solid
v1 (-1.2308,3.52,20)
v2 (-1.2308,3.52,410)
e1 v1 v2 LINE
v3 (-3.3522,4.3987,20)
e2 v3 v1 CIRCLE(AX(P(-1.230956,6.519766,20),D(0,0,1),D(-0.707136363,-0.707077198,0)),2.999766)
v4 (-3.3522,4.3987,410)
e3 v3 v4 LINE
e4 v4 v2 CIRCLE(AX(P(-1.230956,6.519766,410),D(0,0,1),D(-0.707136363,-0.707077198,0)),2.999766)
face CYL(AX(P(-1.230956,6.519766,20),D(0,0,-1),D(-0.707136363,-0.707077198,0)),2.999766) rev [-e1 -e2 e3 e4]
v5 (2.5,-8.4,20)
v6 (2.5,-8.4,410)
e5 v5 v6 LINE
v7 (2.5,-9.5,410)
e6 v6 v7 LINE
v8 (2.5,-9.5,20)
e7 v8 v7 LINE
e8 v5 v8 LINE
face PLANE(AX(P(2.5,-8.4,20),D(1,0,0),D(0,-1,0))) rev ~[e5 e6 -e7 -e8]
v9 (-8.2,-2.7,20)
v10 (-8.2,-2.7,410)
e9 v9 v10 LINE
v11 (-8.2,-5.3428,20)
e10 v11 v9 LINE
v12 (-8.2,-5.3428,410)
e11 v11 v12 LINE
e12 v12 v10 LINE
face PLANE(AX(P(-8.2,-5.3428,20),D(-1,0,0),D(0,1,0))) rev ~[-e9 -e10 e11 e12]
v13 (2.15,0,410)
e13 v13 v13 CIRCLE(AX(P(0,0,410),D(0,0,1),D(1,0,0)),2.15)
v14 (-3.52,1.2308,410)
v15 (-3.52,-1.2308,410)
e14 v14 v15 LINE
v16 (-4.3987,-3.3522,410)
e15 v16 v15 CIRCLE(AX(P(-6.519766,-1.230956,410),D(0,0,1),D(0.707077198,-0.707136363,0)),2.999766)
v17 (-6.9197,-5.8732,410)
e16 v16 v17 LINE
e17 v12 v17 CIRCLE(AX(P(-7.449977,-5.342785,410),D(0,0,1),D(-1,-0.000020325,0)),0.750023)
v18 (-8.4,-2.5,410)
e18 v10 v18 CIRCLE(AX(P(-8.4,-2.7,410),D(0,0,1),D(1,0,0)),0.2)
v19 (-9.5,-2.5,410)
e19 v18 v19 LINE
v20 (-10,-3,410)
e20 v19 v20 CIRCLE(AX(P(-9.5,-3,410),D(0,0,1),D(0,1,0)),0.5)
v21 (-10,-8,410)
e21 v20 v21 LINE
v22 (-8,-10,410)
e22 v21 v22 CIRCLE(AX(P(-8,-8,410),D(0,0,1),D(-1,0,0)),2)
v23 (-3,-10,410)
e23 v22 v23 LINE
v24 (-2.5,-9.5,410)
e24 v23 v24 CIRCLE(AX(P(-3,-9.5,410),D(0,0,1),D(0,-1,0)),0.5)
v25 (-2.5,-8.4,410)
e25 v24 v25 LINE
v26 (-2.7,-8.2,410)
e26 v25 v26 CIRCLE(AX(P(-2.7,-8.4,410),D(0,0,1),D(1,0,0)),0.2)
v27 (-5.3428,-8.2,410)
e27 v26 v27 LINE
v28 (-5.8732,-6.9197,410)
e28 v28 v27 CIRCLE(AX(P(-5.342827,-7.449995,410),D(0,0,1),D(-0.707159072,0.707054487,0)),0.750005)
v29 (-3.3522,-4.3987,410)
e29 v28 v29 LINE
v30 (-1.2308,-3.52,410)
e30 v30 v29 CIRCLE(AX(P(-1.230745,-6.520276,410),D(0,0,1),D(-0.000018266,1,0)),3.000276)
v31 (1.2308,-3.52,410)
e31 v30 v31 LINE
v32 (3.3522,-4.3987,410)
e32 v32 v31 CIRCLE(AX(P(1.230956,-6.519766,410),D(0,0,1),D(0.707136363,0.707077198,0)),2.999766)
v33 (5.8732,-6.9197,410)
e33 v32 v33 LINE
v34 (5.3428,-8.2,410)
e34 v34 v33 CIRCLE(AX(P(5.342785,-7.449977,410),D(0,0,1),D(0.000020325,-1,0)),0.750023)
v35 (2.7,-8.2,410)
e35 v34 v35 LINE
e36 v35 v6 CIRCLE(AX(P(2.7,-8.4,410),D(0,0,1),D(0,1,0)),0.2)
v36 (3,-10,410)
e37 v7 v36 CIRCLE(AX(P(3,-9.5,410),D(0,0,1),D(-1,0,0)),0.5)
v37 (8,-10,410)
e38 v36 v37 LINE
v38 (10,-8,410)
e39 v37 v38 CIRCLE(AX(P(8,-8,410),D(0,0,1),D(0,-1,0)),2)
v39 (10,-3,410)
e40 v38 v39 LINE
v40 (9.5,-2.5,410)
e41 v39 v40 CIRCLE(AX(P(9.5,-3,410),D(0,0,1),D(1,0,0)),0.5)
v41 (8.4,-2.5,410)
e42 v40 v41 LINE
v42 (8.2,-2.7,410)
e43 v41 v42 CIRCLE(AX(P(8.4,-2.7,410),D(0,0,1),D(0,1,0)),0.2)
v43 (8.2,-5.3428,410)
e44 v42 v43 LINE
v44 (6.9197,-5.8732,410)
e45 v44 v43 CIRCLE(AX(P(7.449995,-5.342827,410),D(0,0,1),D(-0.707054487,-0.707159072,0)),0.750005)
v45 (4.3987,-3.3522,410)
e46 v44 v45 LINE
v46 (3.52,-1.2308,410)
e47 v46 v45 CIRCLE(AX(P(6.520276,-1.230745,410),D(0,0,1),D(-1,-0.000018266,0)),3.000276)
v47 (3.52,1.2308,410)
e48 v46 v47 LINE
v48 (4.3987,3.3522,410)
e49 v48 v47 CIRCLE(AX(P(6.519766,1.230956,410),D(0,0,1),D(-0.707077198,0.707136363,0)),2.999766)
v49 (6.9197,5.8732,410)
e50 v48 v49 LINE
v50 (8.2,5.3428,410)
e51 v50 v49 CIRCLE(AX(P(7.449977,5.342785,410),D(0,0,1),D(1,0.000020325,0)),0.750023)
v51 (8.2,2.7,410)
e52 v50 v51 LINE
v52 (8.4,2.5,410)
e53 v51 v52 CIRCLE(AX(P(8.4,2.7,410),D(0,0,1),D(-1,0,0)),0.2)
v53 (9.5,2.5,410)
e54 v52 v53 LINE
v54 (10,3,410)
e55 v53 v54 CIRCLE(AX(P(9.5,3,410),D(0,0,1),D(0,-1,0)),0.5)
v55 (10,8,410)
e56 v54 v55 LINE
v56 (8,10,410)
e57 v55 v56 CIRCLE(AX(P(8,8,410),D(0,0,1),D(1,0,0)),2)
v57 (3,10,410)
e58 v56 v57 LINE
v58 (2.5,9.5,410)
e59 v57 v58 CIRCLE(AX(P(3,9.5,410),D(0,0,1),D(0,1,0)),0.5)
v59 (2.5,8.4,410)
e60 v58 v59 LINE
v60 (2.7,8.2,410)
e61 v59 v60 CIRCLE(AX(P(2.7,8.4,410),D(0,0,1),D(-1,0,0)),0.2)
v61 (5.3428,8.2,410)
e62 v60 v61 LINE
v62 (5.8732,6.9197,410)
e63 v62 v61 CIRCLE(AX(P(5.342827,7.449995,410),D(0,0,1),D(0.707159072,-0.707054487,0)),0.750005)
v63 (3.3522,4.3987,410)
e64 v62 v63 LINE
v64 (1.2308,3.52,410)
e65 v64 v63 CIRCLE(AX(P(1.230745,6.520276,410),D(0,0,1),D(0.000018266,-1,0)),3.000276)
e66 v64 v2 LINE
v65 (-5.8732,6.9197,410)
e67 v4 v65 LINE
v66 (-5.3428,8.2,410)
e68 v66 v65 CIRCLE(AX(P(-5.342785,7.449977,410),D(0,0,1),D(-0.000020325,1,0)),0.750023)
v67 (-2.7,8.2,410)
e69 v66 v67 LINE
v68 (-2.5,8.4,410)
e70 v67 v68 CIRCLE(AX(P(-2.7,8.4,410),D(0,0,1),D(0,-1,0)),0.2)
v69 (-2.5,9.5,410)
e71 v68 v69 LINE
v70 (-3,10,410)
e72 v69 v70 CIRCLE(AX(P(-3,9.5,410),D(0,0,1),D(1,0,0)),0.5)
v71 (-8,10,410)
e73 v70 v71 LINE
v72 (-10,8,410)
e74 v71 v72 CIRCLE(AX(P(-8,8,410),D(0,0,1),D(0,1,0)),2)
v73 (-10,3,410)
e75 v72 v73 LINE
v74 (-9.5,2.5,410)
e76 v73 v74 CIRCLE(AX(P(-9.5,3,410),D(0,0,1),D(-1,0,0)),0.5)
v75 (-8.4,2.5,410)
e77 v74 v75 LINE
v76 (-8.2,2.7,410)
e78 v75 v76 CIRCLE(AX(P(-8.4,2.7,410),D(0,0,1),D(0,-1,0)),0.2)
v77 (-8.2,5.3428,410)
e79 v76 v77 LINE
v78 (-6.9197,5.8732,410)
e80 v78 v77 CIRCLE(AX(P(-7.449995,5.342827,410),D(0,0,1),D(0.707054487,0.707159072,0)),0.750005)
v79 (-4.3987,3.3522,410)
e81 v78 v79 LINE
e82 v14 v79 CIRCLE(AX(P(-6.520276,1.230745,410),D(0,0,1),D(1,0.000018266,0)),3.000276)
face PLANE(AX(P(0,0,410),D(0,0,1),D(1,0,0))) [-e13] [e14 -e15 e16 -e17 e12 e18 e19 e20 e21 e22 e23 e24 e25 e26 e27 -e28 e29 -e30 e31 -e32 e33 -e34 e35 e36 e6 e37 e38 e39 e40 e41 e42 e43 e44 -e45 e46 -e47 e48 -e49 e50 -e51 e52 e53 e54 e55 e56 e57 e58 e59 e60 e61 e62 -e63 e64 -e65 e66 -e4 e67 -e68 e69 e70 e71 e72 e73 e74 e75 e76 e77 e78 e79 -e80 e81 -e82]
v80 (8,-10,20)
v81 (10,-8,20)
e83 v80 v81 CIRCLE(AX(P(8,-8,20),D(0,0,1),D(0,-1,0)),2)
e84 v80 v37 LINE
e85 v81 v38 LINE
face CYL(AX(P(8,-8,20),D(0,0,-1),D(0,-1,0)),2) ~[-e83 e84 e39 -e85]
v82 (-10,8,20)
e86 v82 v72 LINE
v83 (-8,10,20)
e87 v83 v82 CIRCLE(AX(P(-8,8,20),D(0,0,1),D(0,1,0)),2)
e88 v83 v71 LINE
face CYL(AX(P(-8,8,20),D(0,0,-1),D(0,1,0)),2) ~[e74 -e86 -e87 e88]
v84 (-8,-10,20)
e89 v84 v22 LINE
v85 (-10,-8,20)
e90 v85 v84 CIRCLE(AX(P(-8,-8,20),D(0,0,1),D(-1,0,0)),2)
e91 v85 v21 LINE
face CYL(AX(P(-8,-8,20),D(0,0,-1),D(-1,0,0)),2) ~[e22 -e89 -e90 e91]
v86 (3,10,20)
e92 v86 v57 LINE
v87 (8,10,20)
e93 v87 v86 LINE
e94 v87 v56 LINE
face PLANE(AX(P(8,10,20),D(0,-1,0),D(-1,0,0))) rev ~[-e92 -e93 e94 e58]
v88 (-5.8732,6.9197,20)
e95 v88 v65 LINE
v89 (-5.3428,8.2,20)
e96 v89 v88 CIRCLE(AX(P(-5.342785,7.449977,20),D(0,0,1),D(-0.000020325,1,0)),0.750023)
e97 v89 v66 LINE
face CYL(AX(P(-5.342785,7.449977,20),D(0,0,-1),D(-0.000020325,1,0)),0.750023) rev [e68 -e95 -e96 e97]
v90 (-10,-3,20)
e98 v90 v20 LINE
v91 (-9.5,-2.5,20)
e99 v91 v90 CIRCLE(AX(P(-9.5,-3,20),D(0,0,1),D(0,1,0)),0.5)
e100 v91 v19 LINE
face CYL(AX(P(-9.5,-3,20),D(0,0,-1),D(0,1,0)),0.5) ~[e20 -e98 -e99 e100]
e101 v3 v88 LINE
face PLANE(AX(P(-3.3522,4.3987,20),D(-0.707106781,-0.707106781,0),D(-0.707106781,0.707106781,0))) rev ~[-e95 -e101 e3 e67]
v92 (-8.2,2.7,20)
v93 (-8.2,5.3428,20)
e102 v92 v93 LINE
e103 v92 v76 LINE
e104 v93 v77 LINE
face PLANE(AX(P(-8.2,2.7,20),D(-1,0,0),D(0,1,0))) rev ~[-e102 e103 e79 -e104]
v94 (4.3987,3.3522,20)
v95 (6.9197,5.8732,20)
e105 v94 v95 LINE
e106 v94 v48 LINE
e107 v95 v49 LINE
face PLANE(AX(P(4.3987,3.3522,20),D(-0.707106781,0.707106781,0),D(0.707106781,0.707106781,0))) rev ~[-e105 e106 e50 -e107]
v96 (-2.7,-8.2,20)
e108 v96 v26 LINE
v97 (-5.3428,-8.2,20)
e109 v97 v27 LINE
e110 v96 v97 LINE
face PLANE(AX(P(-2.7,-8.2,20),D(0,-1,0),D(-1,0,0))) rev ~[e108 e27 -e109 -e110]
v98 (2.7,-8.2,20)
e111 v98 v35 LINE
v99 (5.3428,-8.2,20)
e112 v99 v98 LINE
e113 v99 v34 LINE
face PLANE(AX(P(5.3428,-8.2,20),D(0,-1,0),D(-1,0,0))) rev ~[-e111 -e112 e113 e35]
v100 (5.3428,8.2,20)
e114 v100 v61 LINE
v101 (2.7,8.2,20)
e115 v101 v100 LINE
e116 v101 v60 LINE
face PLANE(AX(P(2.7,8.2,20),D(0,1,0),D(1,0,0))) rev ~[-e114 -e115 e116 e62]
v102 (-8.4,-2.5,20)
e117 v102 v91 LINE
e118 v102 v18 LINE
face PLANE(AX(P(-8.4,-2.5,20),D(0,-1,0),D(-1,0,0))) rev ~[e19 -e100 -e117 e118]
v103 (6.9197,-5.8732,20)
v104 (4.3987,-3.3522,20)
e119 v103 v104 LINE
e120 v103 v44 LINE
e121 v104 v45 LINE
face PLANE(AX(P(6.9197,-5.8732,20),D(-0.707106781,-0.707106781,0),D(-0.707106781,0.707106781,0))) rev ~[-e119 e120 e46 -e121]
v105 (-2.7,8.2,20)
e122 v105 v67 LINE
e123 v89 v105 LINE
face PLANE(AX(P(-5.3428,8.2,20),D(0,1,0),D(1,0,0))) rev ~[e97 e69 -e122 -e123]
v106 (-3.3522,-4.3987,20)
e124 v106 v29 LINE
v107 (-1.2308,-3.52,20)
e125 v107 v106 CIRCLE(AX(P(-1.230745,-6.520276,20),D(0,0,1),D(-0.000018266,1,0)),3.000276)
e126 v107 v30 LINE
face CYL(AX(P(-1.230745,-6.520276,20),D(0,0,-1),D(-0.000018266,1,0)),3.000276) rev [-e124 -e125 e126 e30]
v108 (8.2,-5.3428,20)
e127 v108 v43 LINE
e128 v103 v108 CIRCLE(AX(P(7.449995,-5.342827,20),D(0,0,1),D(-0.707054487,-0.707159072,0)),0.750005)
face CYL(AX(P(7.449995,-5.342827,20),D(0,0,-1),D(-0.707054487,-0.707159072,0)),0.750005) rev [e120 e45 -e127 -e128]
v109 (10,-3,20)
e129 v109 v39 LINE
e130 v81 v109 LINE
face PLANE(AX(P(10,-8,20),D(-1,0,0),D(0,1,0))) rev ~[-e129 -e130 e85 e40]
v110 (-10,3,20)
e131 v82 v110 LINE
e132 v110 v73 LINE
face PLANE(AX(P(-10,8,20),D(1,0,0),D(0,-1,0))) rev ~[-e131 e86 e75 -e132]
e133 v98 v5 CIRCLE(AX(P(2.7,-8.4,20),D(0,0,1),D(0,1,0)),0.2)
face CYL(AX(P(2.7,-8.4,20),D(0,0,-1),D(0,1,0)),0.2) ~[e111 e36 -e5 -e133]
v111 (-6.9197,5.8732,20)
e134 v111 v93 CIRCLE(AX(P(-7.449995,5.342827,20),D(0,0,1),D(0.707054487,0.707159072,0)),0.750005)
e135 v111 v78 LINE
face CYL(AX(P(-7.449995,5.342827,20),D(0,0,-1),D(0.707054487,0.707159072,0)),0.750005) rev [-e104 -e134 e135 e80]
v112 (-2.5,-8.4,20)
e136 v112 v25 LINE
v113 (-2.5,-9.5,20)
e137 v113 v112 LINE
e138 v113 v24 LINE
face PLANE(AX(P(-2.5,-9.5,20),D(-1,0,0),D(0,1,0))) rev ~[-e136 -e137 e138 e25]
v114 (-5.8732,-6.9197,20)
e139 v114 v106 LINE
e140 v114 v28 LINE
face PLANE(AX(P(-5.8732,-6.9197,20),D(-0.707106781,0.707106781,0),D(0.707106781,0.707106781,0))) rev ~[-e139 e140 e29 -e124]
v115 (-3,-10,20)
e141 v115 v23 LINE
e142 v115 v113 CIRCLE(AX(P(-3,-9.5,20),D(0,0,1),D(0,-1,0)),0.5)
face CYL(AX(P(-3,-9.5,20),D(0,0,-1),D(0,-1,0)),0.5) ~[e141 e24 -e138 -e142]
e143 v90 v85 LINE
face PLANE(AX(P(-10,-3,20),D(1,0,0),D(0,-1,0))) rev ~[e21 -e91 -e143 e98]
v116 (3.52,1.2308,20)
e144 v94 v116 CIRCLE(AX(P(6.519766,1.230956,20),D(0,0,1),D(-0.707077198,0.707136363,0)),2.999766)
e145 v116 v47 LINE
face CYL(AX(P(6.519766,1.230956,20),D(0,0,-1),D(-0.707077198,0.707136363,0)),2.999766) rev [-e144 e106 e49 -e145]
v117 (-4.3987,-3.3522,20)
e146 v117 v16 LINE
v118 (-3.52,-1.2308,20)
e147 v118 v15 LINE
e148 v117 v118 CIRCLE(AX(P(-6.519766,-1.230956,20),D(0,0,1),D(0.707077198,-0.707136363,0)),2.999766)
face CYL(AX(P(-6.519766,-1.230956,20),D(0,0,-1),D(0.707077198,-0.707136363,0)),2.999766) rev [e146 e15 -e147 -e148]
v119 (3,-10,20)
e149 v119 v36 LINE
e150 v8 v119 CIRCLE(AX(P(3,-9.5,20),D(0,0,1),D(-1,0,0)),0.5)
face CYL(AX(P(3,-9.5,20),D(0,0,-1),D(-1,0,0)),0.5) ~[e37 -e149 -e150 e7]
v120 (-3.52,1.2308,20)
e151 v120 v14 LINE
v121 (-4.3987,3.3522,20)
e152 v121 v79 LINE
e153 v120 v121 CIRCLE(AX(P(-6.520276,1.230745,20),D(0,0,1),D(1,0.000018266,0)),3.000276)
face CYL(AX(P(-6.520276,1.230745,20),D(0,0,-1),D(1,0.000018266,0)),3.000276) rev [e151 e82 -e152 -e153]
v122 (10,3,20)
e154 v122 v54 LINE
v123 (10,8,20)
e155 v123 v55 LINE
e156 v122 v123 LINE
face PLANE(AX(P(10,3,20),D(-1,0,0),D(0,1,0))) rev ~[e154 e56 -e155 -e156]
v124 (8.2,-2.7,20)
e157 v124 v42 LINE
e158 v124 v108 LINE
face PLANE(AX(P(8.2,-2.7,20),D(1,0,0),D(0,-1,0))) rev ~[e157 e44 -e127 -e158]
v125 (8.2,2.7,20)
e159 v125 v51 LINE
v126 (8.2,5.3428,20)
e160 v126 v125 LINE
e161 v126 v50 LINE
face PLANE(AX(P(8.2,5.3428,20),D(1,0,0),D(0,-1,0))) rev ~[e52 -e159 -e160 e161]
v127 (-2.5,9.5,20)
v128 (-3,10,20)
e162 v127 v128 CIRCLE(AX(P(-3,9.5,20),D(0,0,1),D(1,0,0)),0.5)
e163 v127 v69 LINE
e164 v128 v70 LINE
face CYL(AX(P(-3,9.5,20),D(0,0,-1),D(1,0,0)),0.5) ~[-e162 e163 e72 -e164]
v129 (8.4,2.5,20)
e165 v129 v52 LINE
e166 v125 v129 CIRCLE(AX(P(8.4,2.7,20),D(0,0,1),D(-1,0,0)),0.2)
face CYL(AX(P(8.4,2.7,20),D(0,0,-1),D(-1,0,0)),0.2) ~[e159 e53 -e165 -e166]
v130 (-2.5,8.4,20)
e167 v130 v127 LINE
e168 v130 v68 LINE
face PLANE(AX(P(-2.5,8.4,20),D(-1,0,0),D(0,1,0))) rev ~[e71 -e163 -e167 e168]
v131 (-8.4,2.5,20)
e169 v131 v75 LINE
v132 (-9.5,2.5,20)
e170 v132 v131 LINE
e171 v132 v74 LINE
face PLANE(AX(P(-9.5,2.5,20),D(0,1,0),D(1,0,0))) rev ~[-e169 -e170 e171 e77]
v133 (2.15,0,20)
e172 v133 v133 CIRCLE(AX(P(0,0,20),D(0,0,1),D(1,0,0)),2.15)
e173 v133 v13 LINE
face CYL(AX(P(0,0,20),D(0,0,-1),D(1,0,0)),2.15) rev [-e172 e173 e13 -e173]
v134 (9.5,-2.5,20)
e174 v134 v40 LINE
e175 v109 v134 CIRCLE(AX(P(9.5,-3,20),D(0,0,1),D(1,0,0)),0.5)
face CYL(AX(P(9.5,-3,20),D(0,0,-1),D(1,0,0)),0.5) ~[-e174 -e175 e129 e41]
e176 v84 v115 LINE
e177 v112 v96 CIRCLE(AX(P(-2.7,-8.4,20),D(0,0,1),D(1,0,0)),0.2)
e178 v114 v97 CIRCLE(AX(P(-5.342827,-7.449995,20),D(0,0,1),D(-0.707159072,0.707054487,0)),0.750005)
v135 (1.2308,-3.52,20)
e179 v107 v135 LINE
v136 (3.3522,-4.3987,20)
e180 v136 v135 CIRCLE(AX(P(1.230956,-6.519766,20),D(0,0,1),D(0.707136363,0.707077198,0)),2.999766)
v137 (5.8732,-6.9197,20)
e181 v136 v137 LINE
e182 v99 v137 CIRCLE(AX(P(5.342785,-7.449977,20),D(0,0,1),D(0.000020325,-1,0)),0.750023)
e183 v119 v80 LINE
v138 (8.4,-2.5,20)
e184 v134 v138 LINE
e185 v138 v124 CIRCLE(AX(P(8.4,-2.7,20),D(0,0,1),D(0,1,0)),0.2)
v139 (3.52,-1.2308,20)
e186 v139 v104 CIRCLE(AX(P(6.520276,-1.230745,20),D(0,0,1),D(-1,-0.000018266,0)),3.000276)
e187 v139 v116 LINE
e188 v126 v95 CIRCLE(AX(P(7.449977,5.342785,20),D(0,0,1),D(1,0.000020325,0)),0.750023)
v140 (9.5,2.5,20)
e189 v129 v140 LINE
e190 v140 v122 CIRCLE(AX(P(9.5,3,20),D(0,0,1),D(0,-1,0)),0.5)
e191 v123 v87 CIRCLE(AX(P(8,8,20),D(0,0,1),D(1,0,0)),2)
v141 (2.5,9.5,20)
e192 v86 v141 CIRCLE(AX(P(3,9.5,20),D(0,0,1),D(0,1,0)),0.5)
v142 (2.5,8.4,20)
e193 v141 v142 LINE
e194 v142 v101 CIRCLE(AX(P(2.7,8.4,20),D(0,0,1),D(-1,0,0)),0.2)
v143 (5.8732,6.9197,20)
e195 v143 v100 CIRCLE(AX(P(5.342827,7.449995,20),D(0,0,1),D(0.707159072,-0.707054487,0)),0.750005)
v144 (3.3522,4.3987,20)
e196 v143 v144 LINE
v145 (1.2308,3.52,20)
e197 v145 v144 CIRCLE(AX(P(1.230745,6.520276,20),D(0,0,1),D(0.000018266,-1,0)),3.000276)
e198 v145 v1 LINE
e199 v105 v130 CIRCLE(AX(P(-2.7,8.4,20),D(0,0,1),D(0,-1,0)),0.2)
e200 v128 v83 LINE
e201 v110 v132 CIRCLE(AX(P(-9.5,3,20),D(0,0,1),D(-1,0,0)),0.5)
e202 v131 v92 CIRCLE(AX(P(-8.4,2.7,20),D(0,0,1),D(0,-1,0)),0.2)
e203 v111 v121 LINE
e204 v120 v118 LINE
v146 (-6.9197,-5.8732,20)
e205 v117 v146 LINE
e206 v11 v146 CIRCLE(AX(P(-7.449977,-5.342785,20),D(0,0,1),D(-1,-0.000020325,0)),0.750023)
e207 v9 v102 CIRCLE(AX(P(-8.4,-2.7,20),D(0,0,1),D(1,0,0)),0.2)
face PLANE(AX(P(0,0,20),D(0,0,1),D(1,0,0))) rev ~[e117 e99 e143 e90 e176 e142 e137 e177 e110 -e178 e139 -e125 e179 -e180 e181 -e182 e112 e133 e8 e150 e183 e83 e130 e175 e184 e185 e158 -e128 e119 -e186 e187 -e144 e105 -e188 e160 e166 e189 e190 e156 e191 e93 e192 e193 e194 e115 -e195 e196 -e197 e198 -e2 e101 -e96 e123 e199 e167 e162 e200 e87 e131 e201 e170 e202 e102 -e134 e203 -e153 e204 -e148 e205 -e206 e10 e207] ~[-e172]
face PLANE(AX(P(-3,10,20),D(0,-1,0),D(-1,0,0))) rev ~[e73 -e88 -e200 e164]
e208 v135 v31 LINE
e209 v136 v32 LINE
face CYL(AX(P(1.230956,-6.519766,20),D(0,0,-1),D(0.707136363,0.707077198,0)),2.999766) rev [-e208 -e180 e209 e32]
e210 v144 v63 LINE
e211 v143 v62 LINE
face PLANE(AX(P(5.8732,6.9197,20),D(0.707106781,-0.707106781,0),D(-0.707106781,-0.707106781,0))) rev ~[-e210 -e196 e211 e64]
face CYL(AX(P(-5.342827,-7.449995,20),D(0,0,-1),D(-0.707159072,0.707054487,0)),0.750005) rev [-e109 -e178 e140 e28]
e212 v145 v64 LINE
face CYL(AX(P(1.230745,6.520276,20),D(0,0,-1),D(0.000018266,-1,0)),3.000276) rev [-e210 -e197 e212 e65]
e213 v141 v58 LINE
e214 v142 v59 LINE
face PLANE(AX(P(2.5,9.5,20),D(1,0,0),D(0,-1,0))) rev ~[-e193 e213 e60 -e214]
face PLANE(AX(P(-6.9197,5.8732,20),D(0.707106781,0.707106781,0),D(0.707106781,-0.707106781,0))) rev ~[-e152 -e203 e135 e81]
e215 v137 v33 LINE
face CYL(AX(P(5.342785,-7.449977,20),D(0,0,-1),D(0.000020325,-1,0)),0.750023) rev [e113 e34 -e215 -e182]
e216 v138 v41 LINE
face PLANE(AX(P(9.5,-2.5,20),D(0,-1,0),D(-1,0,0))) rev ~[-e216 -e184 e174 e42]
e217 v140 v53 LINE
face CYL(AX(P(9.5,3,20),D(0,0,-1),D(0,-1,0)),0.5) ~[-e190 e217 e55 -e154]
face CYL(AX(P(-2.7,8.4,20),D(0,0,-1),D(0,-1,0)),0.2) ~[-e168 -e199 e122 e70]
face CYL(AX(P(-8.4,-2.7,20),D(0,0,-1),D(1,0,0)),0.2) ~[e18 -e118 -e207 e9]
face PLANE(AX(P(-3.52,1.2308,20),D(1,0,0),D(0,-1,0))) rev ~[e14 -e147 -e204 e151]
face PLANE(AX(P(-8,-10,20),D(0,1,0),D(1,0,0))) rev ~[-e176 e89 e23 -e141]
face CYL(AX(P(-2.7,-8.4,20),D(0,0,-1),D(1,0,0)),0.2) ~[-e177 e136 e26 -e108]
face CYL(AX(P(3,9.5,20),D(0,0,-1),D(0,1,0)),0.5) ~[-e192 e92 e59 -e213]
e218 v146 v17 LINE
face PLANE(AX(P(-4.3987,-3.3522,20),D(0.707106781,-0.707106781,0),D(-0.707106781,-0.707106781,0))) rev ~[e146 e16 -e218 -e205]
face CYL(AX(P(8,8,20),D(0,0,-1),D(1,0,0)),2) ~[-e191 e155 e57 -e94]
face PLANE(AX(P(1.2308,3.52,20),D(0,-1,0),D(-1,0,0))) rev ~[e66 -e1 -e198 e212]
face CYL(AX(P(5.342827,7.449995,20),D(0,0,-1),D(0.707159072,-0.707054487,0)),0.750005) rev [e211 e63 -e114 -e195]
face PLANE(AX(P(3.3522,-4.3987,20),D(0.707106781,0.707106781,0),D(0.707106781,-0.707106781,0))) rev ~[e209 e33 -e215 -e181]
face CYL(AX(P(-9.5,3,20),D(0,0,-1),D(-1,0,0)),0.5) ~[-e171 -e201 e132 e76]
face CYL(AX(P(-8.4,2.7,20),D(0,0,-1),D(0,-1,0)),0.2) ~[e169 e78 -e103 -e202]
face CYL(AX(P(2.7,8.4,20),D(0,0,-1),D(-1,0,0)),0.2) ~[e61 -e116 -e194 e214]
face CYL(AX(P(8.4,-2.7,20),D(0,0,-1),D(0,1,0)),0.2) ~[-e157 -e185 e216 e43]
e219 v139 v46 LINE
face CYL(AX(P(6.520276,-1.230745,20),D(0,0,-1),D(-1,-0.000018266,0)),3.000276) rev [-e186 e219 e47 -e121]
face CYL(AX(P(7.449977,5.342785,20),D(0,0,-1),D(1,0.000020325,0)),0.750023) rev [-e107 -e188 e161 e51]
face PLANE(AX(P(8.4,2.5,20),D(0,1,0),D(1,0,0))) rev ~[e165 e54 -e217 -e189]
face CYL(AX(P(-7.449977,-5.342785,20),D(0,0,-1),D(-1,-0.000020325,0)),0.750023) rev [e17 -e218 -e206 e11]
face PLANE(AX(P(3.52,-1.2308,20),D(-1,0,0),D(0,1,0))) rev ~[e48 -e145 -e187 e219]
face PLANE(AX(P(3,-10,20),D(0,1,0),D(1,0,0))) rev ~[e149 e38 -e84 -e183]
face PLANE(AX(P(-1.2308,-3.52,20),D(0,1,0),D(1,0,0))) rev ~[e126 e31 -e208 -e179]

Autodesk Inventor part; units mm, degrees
ref_plane "Płaszczyzna początkowa" through (0, 0, 20) normal (0, 0, 1) x (1, 0, 0)
ref_plane "Płaszczyzna końcowa" through (0, 0, 410) normal (0, 0, 1) x (1, 0, 0)
sketch "Szkic" plane through (0, 0, 0) normal (0, 0, 1) x (1, 0, 0)
  arc A0 (8, -10) -> (10, -8) centre (8, -8) ccw
  line L0 (10, -8) -> (10, -3)
  arc A1 (10, -3) -> (9.5, -2.5) centre (9.5, -3) ccw
  line L1 (9.5, -2.5) -> (8.4, -2.5)
  arc A2 (8.4, -2.5) -> (8.2, -2.7) centre (8.4, -2.7) ccw
  line L2 (8.2, -2.7) -> (8.2, -5.3428)
  arc A3 (6.9197, -5.8732) -> (8.2, -5.3428) centre (7.45, -5.3428) ccw
  line L3 (6.9197, -5.8732) -> (4.3987, -3.3522)
  arc A4 (3.52, -1.2308) -> (4.3987, -3.3522) centre (6.52, -1.2308) ccw
  line L4 (3.52, -1.2308) -> (3.52, 1.2308)
  arc A5 (4.3987, 3.3522) -> (3.52, 1.2308) centre (6.52, 1.2308) ccw
  line L5 (4.3987, 3.3522) -> (6.9197, 5.8732)
  arc A6 (8.2, 5.3428) -> (6.9197, 5.8732) centre (7.45, 5.3428) ccw
  line L6 (8.2, 5.3428) -> (8.2, 2.7)
  arc A7 (8.2, 2.7) -> (8.4, 2.5) centre (8.4, 2.7) ccw
  line L7 (8.4, 2.5) -> (9.5, 2.5)
  arc A8 (9.5, 2.5) -> (10, 3) centre (9.5, 3) ccw
  line L8 (10, 3) -> (10, 8)
  arc A9 (10, 8) -> (8, 10) centre (8, 8) ccw
  line L9 (8, 10) -> (3, 10)
  arc A10 (3, 10) -> (2.5, 9.5) centre (3, 9.5) ccw
  line L10 (2.5, 9.5) -> (2.5, 8.4)
  arc A11 (2.5, 8.4) -> (2.7, 8.2) centre (2.7, 8.4) ccw
  line L11 (2.7, 8.2) -> (5.3428, 8.2)
  arc A12 (5.8732, 6.9197) -> (5.3428, 8.2) centre (5.3428, 7.45) ccw
  line L12 (5.8732, 6.9197) -> (3.3522, 4.3987)
  arc A13 (1.2308, 3.52) -> (3.3522, 4.3987) centre (1.2308, 6.52) ccw
  line L13 (1.2308, 3.52) -> (-1.2308, 3.52)
  arc A14 (-3.3522, 4.3987) -> (-1.2308, 3.52) centre (-1.2308, 6.52) ccw
  line L14 (-3.3522, 4.3987) -> (-5.8732, 6.9197)
  arc A15 (-5.3428, 8.2) -> (-5.8732, 6.9197) centre (-5.3428, 7.45) ccw
  line L15 (-5.3428, 8.2) -> (-2.7, 8.2)
  arc A16 (-2.7, 8.2) -> (-2.5, 8.4) centre (-2.7, 8.4) ccw
  line L16 (-2.5, 8.4) -> (-2.5, 9.5)
  arc A17 (-2.5, 9.5) -> (-3, 10) centre (-3, 9.5) ccw
  line L17 (-3, 10) -> (-8, 10)
  arc A18 (-8, 10) -> (-10, 8) centre (-8, 8) ccw
  line L18 (-10, 8) -> (-10, 3)
  arc A19 (-10, 3) -> (-9.5, 2.5) centre (-9.5, 3) ccw
  line L19 (-9.5, 2.5) -> (-8.4, 2.5)
  arc A20 (-8.4, 2.5) -> (-8.2, 2.7) centre (-8.4, 2.7) ccw
  line L20 (-8.2, 2.7) -> (-8.2, 5.3428)
  arc A21 (-6.9197, 5.8732) -> (-8.2, 5.3428) centre (-7.45, 5.3428) ccw
  line L21 (-6.9197, 5.8732) -> (-4.3987, 3.3522)
  arc A22 (-3.52, 1.2308) -> (-4.3987, 3.3522) centre (-6.52, 1.2308) ccw
  line L22 (-3.52, 1.2308) -> (-3.52, -1.2308)
  arc A23 (-4.3987, -3.3522) -> (-3.52, -1.2308) centre (-6.52, -1.2308) ccw
  line L23 (-4.3987, -3.3522) -> (-6.9197, -5.8732)
  arc A24 (-8.2, -5.3428) -> (-6.9197, -5.8732) centre (-7.45, -5.3428) ccw
  line L24 (-8.2, -5.3428) -> (-8.2, -2.7)
  arc A25 (-8.2, -2.7) -> (-8.4, -2.5) centre (-8.4, -2.7) ccw
  line L25 (-8.4, -2.5) -> (-9.5, -2.5)
  arc A26 (-9.5, -2.5) -> (-10, -3) centre (-9.5, -3) ccw
  line L26 (-10, -3) -> (-10, -8)
  arc A27 (-10, -8) -> (-8, -10) centre (-8, -8) ccw
  line L27 (-8, -10) -> (-3, -10)
  arc A28 (-3, -10) -> (-2.5, -9.5) centre (-3, -9.5) ccw
  line L28 (-2.5, -9.5) -> (-2.5, -8.4)
  arc A29 (-2.5, -8.4) -> (-2.7, -8.2) centre (-2.7, -8.4) ccw
  line L29 (-2.7, -8.2) -> (-5.3428, -8.2)
  arc A30 (-5.8732, -6.9197) -> (-5.3428, -8.2) centre (-5.3428, -7.45) ccw
  line L30 (-5.8732, -6.9197) -> (-3.3522, -4.3987)
  arc A31 (-1.2308, -3.52) -> (-3.3522, -4.3987) centre (-1.2308, -6.52) ccw
  line L31 (-1.2308, -3.52) -> (1.2308, -3.52)
  arc A32 (3.3522, -4.3987) -> (1.2308, -3.52) centre (1.2308, -6.52) ccw
  line L32 (3.3522, -4.3987) -> (5.8732, -6.9197)
  arc A33 (5.3428, -8.2) -> (5.8732, -6.9197) centre (5.3428, -7.45) ccw
  line L33 (5.3428, -8.2) -> (2.7, -8.2)
  arc A34 (2.7, -8.2) -> (2.5, -8.4) centre (2.7, -8.4) ccw
  line L34 (2.5, -8.4) -> (2.5, -9.5)
  arc A35 (2.5, -9.5) -> (3, -10) centre (3, -9.5) ccw
  line L35 (3, -10) -> (8, -10)
  circle A36 centre (0, 0) radius 2.15
  point P0 (10, -10)
extrude "Bryła" add sketch "Szkic" along normal up to surface (390 mm away) from surface at 20
sketch "Szkic4" plane through (0, 0, 0) normal (0, 0, 1) x (1, 0, 0)
  line L0 (0, 0) -> (10, 0)
ref_plane "Płaszczyzna konstrukcyjna4" through (0, 0, 0) normal (0, -1, 0) x (1, 0, 0)
sketch "Szkic5" plane through (0, 0, 0) normal (0, -1, 0) x (1, 0, 0)
  line L0 (-2, 20) -> (12, 20)
  line L1 (-2, 410) -> (12, 410)
  dimension "d7" = 390
ref_plane "Płaszczyzna konstrukcyjna5" through (3, 10, 410) normal (0, 0, 1) x (1, 0, 0)
split "Podział1" plane through (3, 10, 410) removes the side toward (0, 0, 1)
ref_plane "Płaszczyzna konstrukcyjna6" through (8, 10, 20) normal (0, 0, -1) x (-1, 0, 0)
split "Podział2" plane through (8, 10, 20) removes the side toward (0, 0, -1)
equation "\"G_L\" = d7"
properties part number "COTS_ARMA_AR3701_20x20_Alu_Extr_00000004" material "Aluminium 6061-AHC"
